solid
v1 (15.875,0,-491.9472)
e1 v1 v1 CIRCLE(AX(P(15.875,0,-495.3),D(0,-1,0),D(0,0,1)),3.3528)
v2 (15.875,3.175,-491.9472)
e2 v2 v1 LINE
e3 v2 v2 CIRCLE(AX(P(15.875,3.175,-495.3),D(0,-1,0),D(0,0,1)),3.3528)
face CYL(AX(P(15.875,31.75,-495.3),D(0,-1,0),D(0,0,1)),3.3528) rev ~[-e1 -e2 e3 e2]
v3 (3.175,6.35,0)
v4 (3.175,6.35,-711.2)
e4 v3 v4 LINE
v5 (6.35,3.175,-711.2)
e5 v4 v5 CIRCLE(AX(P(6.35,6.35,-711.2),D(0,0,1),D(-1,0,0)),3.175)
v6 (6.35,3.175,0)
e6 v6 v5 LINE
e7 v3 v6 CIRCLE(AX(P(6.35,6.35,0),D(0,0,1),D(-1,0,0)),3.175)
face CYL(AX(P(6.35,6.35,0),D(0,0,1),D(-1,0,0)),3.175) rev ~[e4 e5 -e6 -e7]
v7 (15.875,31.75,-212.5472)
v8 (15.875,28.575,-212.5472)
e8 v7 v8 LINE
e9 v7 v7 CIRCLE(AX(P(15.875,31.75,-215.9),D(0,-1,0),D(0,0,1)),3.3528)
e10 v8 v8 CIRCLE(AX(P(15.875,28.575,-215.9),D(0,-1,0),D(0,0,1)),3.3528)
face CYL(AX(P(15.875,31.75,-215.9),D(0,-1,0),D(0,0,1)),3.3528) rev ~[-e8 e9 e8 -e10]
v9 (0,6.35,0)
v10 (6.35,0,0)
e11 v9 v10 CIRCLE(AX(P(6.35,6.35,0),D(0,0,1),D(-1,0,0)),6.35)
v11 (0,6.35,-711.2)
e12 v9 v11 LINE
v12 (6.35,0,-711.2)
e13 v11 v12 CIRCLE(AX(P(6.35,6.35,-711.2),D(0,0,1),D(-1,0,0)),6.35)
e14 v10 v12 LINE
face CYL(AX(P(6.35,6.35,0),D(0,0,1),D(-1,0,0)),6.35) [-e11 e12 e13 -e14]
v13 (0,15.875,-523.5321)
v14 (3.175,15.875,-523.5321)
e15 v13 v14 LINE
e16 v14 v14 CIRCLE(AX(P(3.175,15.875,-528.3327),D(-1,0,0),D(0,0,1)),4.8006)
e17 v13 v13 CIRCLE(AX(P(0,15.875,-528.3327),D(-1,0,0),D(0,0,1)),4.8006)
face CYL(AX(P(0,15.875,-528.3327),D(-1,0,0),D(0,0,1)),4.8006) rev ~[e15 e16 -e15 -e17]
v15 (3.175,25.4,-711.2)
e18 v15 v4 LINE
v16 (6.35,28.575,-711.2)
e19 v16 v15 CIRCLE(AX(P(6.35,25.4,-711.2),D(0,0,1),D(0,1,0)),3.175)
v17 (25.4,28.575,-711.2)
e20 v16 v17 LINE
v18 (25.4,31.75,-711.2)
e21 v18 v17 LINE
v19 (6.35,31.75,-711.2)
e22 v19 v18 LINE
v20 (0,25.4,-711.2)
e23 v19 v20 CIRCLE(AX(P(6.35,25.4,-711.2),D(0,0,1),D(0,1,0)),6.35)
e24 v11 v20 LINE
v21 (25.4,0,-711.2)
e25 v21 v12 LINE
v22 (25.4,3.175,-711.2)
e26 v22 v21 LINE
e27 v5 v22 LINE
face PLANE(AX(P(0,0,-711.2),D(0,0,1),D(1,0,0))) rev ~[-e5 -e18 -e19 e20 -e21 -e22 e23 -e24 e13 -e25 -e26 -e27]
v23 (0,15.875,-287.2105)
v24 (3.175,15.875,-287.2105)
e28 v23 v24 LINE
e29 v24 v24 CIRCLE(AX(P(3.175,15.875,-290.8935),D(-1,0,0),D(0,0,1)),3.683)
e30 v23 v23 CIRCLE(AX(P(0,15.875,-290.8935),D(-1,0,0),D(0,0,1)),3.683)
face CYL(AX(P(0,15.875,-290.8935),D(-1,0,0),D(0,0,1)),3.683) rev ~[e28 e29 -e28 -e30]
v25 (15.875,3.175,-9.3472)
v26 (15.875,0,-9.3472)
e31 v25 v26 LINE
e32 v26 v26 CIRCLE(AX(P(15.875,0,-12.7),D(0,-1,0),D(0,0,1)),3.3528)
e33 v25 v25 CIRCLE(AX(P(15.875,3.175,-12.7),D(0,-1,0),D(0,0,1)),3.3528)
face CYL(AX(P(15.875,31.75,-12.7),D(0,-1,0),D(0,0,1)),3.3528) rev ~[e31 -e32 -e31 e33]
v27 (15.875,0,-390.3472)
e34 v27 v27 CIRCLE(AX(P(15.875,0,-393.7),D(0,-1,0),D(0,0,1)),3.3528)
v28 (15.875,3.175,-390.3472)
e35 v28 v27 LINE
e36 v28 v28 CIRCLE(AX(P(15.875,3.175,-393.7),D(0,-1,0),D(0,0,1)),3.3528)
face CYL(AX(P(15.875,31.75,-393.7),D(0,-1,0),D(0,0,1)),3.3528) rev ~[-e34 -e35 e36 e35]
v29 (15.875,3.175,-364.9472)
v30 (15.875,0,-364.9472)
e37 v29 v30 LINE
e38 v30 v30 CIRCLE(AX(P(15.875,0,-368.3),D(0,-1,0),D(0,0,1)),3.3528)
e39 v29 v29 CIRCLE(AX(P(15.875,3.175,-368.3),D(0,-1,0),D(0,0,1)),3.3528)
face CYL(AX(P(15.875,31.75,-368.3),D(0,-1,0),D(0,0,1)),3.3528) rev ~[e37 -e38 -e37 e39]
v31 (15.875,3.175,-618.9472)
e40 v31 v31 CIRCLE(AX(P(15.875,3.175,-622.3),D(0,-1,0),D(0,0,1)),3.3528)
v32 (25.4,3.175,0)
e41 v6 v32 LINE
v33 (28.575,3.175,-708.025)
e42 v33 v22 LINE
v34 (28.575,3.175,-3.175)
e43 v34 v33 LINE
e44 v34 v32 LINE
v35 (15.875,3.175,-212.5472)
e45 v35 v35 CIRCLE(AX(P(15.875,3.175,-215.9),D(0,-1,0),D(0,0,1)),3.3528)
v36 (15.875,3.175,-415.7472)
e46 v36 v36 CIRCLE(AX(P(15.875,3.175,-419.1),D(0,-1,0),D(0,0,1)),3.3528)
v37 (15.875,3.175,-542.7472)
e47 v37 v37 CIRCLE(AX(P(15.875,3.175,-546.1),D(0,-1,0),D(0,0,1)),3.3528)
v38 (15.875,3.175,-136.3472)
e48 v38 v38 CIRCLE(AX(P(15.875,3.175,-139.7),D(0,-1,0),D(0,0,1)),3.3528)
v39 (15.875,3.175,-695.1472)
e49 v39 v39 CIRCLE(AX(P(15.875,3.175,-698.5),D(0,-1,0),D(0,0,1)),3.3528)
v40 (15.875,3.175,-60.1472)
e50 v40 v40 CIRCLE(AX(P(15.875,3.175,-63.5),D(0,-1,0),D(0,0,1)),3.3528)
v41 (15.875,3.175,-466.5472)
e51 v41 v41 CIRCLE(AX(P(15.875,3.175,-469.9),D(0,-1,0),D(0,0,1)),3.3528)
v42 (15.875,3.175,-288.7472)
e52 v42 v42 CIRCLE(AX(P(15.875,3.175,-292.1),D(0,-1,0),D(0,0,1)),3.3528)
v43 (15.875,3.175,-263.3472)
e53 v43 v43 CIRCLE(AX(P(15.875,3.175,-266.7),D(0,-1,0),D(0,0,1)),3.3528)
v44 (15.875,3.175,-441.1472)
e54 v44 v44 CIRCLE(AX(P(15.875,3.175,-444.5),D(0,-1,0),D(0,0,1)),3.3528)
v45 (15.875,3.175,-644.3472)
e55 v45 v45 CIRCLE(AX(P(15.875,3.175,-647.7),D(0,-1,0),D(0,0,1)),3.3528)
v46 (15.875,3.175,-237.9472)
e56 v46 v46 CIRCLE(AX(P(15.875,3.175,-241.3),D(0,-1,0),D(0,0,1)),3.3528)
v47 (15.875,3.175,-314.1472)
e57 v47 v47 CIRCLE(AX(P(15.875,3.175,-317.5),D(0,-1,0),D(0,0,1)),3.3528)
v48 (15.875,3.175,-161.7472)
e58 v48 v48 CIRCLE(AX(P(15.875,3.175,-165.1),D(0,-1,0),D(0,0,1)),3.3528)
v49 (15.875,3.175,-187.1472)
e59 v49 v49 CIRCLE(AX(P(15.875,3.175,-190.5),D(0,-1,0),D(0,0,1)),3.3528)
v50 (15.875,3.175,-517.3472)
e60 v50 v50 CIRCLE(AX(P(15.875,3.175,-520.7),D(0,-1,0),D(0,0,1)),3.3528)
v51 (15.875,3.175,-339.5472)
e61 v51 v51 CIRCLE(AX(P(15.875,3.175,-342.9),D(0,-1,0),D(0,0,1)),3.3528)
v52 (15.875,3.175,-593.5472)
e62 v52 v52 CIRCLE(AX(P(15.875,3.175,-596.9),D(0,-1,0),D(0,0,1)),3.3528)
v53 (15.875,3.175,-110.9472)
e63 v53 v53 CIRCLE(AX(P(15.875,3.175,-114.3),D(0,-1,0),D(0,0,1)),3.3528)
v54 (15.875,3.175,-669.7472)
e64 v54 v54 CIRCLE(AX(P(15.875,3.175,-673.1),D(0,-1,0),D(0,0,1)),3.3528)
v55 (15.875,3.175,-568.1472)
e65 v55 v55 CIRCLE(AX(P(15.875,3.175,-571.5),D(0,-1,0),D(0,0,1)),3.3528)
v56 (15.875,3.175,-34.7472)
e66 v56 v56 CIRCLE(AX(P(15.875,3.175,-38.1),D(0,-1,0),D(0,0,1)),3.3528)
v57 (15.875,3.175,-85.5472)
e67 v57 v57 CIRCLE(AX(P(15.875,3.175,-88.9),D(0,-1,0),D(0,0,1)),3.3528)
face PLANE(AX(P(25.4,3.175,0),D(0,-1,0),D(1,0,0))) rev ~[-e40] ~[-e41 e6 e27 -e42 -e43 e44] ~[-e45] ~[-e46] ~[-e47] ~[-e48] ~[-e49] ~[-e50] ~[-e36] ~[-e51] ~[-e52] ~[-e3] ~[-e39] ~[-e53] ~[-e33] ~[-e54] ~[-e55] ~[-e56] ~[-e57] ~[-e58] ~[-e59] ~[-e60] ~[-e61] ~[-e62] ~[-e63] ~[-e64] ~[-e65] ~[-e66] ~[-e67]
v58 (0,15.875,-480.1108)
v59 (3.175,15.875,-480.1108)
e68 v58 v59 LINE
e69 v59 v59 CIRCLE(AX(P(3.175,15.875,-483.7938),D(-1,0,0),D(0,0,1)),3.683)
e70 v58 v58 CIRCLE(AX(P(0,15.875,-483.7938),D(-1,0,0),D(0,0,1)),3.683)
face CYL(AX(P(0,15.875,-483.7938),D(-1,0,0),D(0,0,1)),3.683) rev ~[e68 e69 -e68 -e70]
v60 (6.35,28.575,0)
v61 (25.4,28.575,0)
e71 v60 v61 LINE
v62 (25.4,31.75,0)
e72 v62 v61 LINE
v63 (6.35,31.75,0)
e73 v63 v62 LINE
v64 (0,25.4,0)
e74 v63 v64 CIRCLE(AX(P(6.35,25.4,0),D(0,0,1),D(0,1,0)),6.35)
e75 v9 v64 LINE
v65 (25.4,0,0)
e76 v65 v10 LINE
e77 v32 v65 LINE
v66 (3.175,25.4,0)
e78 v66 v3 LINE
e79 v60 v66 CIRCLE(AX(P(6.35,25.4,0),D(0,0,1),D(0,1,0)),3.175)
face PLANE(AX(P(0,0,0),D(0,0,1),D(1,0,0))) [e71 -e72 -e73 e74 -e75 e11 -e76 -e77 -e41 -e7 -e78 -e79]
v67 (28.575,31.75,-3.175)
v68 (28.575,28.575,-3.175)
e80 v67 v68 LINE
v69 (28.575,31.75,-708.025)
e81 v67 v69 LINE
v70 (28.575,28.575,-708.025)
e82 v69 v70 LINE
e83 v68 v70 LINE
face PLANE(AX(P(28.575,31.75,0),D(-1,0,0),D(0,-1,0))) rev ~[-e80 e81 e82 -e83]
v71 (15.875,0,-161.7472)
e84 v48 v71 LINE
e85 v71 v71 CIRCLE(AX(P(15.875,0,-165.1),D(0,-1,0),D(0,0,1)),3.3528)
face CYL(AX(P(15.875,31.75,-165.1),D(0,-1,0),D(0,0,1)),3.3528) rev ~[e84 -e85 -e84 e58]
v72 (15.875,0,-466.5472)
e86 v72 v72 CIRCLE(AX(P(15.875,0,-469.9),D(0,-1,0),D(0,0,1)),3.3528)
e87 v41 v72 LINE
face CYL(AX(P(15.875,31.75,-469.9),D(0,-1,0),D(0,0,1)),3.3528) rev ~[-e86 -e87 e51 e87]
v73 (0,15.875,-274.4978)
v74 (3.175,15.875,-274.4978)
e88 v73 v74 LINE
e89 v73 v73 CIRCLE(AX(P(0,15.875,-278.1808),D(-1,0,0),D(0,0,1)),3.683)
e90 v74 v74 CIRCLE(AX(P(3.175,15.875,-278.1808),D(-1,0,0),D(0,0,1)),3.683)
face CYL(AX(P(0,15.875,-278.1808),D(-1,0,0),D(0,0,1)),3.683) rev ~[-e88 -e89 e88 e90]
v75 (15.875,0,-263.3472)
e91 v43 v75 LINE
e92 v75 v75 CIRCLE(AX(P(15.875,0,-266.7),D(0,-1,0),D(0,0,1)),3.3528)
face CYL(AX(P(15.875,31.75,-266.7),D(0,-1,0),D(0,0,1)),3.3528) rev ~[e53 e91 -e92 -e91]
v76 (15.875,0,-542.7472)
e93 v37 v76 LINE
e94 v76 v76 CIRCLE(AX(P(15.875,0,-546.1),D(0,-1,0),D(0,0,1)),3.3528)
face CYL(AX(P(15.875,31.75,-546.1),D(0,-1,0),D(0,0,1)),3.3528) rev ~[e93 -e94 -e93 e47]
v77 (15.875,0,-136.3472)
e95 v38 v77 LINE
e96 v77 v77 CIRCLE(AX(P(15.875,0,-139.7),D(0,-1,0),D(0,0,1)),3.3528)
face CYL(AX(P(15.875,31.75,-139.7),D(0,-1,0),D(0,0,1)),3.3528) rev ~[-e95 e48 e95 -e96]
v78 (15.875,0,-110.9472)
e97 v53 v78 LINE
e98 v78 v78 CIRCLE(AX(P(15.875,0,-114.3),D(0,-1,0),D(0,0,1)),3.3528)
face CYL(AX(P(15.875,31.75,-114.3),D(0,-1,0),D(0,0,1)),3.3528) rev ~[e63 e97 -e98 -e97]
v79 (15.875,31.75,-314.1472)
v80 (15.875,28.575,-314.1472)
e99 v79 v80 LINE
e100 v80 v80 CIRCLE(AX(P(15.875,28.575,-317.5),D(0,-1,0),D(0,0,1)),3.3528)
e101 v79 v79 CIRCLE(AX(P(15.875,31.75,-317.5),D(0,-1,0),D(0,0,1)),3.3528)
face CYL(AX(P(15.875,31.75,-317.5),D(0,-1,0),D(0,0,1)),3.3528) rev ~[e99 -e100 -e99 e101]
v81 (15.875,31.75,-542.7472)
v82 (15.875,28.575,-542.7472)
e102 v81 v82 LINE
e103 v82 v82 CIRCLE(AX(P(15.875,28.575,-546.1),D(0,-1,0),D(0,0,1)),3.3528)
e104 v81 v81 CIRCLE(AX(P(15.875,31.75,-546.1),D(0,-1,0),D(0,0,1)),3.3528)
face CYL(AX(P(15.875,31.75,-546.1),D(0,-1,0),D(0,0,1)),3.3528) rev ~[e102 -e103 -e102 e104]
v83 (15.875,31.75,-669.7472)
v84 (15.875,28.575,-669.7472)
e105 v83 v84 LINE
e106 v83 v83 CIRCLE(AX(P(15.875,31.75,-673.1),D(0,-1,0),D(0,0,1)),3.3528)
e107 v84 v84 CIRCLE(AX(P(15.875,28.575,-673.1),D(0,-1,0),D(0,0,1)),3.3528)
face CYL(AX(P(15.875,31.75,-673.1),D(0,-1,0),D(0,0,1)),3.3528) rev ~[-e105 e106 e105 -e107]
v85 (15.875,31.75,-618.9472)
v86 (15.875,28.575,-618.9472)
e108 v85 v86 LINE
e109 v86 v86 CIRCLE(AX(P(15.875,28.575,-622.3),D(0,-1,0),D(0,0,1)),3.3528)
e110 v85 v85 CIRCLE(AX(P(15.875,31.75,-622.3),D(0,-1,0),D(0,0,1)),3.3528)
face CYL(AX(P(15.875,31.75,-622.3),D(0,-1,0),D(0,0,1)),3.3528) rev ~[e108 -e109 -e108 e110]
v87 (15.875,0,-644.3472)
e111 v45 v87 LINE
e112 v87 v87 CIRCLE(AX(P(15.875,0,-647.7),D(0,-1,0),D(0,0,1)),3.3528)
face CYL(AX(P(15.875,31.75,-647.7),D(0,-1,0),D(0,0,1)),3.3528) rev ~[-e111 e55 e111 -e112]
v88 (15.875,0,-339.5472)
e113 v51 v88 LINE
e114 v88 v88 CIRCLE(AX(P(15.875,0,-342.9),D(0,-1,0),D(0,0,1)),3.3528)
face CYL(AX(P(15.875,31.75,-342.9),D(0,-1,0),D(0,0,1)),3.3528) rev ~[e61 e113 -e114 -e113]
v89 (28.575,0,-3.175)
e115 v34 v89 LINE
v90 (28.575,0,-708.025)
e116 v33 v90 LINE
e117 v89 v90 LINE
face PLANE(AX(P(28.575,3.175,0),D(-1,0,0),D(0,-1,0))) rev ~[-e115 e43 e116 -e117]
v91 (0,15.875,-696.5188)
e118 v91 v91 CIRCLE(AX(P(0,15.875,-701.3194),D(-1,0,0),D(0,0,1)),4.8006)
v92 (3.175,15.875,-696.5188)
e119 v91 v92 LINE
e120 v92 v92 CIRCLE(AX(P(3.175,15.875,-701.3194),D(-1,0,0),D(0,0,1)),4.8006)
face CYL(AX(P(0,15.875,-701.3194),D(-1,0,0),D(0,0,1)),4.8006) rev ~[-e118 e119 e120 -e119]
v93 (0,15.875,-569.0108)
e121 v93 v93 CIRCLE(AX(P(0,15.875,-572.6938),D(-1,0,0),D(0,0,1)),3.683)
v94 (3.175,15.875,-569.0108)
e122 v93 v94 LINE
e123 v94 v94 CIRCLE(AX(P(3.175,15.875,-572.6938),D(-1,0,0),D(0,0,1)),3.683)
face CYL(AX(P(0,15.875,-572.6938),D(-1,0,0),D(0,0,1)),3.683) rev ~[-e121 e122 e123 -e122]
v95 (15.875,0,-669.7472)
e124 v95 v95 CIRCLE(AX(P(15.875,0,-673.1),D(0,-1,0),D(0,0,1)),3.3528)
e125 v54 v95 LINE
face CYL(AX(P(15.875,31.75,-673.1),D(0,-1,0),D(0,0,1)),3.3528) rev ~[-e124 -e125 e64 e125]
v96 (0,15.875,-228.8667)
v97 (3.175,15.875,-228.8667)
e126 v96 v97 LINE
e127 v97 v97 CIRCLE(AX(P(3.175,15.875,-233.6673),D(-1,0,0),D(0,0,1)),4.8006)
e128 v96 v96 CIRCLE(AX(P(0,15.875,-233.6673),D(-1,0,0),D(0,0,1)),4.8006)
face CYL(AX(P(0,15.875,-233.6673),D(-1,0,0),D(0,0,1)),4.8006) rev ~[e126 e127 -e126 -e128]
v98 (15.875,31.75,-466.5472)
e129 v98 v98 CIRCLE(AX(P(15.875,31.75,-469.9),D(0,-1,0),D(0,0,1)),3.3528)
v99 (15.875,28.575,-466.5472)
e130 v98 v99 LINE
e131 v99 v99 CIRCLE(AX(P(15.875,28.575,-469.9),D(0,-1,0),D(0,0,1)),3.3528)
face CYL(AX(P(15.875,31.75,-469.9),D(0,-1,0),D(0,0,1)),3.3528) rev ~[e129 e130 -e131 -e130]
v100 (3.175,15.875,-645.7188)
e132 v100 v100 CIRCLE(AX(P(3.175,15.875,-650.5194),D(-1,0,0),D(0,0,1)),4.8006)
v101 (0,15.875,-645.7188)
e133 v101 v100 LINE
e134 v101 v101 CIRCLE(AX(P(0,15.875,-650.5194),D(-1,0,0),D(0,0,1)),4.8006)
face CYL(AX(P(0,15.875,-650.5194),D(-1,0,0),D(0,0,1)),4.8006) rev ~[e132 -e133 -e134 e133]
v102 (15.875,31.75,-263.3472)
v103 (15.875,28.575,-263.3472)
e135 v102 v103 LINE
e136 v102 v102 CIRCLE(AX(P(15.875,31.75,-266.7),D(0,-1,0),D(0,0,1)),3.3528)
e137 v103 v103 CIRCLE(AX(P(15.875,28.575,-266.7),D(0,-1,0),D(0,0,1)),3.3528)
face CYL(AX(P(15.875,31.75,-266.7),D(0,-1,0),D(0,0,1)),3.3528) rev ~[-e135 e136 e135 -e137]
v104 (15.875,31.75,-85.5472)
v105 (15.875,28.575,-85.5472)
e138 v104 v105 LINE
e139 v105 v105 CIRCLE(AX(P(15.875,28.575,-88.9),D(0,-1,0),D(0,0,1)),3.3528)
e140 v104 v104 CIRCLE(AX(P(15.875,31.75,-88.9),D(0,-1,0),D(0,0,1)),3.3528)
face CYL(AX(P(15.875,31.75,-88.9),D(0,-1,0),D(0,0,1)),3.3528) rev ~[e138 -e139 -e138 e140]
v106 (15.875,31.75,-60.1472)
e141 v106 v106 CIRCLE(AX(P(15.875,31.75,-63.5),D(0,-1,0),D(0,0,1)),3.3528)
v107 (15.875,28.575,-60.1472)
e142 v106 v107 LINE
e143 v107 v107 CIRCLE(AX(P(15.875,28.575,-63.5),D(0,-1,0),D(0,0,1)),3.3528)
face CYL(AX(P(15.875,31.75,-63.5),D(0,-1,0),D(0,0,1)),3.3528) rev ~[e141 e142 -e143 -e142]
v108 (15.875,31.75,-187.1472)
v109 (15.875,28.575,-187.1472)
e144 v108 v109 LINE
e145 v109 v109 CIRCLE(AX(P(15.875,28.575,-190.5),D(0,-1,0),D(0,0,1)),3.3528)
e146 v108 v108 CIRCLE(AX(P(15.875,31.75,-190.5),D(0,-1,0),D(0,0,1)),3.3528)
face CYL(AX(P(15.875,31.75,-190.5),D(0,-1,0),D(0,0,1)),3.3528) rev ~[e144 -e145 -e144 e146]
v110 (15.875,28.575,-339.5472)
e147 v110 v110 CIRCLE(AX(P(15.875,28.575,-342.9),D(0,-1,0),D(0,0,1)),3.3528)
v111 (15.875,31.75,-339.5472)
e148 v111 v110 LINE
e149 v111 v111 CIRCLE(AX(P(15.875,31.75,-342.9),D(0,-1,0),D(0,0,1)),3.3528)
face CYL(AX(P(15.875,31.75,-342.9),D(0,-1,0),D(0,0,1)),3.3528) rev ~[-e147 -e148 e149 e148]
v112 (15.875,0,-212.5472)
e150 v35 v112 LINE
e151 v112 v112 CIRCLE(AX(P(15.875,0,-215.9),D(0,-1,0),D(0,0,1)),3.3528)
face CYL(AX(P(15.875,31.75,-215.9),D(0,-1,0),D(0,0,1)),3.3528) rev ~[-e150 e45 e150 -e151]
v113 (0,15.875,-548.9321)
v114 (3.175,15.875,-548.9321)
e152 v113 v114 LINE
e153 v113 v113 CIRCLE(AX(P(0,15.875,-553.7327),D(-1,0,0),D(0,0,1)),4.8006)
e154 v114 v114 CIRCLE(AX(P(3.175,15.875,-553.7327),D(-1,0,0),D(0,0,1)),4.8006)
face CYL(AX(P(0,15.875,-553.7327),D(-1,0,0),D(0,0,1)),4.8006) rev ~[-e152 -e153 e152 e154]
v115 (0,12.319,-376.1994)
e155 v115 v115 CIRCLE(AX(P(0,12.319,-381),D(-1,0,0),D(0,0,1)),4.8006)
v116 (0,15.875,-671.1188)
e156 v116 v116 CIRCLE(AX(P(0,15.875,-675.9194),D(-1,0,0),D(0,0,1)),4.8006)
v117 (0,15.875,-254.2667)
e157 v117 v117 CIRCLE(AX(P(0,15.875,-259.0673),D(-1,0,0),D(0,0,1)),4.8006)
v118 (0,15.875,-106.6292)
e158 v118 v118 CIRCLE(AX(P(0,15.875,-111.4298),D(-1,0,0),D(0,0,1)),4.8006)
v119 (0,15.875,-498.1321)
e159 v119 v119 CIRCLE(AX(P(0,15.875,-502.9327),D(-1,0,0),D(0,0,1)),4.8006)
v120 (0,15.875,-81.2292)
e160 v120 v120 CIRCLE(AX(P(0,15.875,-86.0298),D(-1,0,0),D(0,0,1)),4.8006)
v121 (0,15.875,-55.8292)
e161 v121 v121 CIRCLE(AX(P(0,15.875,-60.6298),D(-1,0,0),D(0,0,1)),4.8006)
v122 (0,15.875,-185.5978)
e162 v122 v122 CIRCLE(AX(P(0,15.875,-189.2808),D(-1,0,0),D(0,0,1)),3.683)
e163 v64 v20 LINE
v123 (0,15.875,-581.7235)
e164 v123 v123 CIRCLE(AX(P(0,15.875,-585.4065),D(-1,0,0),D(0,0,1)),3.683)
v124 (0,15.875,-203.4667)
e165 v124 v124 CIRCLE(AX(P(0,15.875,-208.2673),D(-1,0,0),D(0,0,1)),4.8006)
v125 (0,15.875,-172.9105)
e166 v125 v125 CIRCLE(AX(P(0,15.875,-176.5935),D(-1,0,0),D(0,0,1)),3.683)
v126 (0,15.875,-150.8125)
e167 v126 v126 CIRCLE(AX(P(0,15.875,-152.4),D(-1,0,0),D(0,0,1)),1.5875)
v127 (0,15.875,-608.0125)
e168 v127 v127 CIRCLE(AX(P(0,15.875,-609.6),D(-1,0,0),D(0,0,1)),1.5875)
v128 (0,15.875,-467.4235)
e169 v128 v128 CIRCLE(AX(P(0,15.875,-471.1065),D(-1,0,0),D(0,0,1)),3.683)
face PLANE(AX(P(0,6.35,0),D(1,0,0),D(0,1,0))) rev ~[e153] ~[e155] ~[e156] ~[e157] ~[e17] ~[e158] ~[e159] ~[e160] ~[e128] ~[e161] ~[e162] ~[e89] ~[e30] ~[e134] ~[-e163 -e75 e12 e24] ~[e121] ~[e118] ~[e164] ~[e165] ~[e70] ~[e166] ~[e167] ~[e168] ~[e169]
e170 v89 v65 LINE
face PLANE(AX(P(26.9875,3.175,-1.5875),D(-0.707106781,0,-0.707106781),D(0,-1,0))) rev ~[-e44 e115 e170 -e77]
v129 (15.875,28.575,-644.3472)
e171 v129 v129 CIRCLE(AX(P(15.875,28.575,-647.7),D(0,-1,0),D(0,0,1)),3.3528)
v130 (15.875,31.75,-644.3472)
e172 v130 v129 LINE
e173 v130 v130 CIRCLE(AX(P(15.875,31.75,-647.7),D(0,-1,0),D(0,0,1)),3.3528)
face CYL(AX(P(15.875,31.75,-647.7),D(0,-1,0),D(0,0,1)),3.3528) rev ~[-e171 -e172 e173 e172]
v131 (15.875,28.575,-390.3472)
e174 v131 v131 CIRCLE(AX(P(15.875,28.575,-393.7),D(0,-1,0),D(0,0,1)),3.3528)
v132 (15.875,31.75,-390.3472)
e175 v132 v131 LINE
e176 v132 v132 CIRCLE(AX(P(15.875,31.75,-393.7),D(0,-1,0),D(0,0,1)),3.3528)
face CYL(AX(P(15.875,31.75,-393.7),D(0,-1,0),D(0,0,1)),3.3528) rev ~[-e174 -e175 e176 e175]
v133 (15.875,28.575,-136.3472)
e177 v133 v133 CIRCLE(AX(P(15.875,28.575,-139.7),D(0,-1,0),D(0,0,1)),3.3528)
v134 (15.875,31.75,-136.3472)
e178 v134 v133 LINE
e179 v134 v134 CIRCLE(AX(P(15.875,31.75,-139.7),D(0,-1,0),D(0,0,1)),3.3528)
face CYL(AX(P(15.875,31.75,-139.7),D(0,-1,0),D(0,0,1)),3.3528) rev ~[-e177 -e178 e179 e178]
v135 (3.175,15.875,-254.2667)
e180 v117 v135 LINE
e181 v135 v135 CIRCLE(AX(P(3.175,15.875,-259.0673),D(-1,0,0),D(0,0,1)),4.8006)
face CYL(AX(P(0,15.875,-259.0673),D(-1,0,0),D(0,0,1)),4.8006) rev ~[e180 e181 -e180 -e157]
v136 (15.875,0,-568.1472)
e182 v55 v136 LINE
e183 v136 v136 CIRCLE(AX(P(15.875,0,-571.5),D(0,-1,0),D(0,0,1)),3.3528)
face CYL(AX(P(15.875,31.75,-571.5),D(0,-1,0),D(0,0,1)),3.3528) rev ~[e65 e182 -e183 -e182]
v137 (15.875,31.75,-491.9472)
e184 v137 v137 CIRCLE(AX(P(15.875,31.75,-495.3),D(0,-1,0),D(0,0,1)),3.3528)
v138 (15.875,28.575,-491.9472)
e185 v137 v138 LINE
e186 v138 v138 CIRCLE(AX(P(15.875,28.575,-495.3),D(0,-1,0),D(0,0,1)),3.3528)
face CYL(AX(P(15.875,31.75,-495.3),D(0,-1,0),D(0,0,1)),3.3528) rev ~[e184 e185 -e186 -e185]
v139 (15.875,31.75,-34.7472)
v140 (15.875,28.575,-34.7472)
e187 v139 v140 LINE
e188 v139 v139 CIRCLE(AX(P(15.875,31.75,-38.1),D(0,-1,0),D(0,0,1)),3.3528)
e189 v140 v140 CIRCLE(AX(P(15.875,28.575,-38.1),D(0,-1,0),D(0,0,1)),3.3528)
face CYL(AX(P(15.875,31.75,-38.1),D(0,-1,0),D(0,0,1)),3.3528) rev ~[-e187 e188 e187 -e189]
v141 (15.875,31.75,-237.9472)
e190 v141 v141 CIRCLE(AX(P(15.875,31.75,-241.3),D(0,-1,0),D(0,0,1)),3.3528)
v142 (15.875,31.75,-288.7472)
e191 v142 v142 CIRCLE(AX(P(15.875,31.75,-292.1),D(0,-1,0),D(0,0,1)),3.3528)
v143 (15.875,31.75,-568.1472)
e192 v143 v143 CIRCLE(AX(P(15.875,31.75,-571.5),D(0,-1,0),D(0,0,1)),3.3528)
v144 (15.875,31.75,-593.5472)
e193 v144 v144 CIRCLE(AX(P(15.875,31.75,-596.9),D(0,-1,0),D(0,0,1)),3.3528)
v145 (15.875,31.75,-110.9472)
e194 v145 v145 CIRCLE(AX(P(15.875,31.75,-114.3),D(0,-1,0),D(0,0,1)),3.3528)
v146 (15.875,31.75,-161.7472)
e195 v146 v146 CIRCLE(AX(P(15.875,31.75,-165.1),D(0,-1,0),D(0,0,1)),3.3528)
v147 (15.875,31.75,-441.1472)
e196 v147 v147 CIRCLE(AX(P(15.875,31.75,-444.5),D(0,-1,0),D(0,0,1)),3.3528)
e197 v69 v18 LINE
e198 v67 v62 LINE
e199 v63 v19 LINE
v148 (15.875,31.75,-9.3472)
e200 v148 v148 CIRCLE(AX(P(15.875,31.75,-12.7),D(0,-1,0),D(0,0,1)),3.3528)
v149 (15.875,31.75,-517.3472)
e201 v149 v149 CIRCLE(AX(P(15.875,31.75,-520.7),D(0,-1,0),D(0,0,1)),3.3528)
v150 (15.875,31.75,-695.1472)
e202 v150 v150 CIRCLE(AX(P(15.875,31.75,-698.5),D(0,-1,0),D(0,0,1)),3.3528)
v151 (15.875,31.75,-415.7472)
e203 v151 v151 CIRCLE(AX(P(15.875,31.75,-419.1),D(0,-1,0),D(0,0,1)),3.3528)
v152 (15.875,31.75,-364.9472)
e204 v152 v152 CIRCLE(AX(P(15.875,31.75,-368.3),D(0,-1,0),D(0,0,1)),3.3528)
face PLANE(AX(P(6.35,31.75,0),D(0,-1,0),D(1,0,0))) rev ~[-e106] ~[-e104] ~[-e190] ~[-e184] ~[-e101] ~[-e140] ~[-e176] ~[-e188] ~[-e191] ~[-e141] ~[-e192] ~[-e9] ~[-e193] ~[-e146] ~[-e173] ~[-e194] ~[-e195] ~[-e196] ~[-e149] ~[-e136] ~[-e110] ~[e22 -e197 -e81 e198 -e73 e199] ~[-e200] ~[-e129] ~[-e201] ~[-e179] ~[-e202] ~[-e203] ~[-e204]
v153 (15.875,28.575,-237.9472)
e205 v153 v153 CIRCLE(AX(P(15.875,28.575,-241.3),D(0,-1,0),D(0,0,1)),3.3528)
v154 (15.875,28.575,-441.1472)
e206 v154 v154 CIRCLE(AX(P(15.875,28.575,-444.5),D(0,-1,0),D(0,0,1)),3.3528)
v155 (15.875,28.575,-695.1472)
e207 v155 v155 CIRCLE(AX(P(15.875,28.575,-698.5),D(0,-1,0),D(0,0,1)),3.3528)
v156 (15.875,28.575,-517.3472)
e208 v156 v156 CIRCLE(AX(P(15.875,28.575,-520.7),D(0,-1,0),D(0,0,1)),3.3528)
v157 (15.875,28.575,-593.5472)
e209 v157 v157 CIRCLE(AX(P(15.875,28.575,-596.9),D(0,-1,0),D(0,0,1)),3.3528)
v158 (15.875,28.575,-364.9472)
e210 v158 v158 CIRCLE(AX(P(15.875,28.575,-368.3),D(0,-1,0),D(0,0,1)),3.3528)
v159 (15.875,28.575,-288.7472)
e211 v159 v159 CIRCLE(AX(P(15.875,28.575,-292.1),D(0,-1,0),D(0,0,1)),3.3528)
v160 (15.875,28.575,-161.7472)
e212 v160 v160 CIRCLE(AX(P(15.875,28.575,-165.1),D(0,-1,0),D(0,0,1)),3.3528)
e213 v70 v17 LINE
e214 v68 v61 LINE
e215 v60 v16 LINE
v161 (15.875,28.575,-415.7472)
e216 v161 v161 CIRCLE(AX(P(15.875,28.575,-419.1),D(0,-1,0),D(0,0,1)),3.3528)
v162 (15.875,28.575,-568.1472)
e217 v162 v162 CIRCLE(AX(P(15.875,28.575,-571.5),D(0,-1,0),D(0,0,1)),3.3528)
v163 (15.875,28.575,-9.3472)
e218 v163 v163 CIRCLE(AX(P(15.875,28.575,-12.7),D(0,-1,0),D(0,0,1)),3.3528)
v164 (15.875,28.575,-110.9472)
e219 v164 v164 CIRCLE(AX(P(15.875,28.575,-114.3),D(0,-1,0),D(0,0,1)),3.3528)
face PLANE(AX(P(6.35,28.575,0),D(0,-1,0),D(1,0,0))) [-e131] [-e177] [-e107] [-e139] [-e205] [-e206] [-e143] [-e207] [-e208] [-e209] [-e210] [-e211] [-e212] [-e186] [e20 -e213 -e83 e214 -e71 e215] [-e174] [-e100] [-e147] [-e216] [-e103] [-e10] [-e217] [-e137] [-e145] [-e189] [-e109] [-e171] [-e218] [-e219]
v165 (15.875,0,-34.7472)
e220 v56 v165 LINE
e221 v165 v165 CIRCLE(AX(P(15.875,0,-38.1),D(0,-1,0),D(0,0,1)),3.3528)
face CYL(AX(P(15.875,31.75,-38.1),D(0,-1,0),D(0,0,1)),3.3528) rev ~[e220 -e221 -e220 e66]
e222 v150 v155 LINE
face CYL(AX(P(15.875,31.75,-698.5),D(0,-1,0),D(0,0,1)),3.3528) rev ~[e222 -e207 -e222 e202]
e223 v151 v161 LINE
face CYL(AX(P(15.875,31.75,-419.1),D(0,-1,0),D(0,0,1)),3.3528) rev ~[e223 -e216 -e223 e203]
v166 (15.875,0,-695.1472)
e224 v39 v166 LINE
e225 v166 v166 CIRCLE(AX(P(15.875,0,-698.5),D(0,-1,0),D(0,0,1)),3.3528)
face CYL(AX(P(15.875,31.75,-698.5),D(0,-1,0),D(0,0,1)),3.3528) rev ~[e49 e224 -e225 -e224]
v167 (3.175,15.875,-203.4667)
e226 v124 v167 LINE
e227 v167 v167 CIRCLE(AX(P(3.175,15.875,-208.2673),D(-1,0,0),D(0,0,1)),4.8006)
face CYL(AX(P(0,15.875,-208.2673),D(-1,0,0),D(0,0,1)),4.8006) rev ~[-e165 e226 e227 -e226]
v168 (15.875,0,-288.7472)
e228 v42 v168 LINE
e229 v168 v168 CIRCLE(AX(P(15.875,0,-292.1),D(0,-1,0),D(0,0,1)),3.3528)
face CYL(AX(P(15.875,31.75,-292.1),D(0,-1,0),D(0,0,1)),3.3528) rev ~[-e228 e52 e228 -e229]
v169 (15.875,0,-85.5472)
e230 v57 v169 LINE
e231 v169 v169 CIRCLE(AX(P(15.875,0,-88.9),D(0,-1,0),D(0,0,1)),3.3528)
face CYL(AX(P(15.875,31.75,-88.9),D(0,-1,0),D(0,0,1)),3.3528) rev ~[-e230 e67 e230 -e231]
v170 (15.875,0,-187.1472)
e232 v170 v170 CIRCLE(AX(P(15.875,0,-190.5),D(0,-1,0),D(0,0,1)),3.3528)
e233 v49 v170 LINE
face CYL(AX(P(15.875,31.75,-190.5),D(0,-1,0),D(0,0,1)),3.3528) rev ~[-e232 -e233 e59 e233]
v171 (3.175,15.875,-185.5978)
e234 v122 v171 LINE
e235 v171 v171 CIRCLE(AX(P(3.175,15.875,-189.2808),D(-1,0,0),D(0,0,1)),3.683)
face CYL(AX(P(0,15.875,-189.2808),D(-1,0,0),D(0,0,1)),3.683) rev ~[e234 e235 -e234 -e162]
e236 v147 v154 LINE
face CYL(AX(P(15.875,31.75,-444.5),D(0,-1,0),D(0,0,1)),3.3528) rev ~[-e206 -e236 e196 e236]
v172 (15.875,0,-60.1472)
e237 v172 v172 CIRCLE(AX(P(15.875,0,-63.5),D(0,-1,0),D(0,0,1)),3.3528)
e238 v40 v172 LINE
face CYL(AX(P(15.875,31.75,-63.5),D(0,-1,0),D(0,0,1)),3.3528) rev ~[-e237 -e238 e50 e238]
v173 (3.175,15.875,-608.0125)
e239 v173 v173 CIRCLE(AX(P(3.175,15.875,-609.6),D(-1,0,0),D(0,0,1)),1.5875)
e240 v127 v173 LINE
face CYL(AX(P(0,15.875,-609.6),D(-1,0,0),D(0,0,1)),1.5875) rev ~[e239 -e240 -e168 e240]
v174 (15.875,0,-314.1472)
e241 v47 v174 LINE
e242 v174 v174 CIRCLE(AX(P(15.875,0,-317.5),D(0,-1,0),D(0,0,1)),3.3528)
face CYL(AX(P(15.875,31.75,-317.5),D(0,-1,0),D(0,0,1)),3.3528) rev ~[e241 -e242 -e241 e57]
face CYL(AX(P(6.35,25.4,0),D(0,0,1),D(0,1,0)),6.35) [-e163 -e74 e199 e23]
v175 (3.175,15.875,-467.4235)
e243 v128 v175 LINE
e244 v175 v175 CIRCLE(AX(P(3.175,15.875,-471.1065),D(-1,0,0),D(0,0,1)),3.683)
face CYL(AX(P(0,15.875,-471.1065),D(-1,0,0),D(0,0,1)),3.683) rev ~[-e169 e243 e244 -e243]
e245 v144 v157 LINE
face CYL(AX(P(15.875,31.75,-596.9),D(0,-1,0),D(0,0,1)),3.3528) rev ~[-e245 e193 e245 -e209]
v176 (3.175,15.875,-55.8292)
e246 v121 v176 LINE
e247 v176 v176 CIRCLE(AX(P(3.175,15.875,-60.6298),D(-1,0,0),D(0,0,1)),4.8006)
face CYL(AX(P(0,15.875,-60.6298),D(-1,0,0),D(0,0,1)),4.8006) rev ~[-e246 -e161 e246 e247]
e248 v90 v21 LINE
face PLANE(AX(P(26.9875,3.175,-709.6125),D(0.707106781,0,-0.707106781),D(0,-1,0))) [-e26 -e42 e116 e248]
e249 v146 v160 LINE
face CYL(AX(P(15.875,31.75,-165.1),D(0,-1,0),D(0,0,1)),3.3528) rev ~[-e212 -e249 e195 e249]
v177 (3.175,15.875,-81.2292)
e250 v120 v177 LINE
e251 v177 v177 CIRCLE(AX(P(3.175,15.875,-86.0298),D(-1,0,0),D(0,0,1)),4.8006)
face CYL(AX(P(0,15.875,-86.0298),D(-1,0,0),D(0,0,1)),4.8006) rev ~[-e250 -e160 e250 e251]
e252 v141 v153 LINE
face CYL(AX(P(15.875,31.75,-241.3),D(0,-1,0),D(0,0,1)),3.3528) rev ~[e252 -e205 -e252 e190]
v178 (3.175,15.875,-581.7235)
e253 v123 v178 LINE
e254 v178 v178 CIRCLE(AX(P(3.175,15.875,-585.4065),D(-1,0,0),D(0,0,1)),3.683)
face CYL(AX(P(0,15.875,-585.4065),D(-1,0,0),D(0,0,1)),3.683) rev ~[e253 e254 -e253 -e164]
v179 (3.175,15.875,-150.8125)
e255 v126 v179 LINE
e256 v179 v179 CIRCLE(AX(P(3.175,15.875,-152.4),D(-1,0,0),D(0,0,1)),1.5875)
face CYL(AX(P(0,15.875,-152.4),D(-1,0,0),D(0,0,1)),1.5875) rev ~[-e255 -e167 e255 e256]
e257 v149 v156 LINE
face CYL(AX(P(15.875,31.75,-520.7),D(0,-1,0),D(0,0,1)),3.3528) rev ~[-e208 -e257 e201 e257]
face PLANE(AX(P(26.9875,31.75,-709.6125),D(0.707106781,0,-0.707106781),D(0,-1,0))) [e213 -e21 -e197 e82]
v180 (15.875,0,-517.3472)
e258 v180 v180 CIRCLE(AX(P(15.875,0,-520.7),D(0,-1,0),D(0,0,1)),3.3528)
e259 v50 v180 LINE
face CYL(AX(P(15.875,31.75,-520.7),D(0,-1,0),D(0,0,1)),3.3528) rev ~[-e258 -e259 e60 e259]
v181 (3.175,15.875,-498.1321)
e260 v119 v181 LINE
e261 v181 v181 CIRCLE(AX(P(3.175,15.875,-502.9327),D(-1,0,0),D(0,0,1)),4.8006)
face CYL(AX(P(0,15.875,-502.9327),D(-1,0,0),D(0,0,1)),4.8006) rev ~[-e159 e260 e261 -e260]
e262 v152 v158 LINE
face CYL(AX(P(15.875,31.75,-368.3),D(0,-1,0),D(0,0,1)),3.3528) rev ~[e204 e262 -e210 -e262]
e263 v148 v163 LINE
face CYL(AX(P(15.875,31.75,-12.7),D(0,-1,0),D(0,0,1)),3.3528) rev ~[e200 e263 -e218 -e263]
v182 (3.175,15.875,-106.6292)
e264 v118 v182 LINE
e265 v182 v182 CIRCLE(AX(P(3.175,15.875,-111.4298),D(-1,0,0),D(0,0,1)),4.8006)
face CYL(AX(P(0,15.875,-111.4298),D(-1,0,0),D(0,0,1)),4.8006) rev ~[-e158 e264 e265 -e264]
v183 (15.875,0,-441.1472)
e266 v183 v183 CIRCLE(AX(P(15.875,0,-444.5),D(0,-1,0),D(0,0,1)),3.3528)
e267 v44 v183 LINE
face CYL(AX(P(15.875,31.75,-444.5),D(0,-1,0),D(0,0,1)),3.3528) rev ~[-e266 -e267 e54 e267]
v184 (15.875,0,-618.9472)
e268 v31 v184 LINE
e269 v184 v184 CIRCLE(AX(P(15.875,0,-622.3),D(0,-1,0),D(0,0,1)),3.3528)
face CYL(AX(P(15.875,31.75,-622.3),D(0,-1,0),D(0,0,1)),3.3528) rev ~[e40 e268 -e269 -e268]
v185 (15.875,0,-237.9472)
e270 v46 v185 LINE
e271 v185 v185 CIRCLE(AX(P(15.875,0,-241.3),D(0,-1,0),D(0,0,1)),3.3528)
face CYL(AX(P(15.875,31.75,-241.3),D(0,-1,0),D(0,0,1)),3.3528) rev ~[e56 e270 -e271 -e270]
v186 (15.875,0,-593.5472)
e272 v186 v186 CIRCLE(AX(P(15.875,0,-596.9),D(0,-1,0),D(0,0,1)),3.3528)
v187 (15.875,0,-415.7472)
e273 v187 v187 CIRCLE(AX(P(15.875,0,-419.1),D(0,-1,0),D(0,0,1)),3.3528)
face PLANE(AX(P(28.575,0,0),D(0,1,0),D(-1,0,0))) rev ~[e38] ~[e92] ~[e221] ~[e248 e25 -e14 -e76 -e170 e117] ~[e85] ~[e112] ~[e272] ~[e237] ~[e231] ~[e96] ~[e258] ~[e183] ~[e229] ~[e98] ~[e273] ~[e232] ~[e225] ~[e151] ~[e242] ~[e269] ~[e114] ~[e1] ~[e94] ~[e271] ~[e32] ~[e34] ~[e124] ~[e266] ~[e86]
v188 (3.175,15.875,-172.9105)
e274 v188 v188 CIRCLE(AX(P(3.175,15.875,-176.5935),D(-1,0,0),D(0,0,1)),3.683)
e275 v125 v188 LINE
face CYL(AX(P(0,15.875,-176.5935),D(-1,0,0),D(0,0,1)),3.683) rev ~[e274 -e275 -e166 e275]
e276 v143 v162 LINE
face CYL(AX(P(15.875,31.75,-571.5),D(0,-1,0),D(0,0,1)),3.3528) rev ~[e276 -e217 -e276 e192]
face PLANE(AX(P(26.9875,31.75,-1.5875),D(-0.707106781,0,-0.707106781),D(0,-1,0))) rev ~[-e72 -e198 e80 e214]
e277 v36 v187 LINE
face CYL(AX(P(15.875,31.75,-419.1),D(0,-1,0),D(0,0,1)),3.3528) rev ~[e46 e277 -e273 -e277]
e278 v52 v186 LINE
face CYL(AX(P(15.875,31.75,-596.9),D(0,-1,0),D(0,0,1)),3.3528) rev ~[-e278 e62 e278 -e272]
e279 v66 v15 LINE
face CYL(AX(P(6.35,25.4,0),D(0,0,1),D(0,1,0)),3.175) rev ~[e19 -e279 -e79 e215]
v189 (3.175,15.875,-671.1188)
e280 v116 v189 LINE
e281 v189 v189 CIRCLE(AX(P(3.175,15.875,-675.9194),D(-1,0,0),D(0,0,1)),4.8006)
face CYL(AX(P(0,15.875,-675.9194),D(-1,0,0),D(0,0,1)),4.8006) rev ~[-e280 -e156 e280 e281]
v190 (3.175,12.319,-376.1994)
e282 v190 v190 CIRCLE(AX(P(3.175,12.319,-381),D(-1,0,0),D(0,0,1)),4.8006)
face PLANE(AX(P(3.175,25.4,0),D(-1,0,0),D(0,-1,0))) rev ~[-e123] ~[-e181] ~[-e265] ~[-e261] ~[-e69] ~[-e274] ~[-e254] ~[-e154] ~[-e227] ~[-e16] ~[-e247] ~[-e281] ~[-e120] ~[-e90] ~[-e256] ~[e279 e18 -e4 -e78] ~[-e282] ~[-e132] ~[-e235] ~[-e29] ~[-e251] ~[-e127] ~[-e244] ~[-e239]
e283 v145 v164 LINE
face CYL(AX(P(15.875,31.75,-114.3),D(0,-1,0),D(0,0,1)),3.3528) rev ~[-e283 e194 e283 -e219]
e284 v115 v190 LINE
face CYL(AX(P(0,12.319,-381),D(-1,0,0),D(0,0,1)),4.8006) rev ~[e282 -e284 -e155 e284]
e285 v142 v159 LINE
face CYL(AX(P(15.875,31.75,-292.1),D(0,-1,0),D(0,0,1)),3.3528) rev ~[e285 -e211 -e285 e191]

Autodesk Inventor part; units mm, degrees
ref_plane "YZ Plane" through (0, 0, 0) normal (1, 0, 0) x (0, 1, 0)
ref_plane "XZ Plane" through (0, 0, 0) normal (0, 1, 0) x (-1, 0, 0)
ref_plane "XY Plane" through (0, 0, 0) normal (0, 0, 1) x (1, 0, 0)
sketch "Sketch1" plane through (0, 0, 0) normal (0, 0, 1) x (1, 0, 0)
  line L0 (6.35, 28.575) -> (25.4, 28.575)
  line L1 (6.35, 31.75) -> (25.4, 31.75)
  line L2 (25.4, 0) -> (6.35, 0)
  arc A0 (0, 6.35) -> (6.35, 0) centre (6.35, 6.35) ccw
  line L3 (0, 6.35) -> (0, 25.4)
  arc A1 (6.35, 31.75) -> (0, 25.4) centre (6.35, 25.4) ccw
  line L4 (6.35, 31.75) -> (25.4, 31.75)
  line L5 (25.4, 28.575) -> (6.35, 28.575)
  arc A2 (6.35, 28.575) -> (3.175, 25.4) centre (6.35, 25.4) ccw
  line L6 (3.175, 25.4) -> (3.175, 6.35)
  arc A3 (3.175, 6.35) -> (6.35, 3.175) centre (6.35, 6.35) ccw
  line L7 (6.35, 3.175) -> (25.4, 3.175)
  line L8 (28.575, 3.175) -> (28.575, 0)
  line L9 (25.4, 31.75) -> (28.575, 31.75)
  line L10 (28.575, 28.575) -> (25.4, 28.575)
  line L11 (28.575, 31.75) -> (28.575, 28.575)
  line L12 (28.575, 0) -> (25.4, 0)
  line L13 (28.575, 3.175) -> (28.575, 0)
  line L14 (25.4, 3.175) -> (28.575, 3.175)
  point P0 (0, 0)
extrude "Extrusion1" add sketch "Sketch1" against normal blind 711.2
chamfer "Chamfer1" distance 3.175 angle 45 4 edges at (28.575, 30.1625, 0) (28.575, 1.5875, 0) (28.575, 30.1625, -711.2) (28.575, 1.5875, -711.2)
sketch "Sketch2" plane through (6.35, 31.75, 0) normal (0, 1, 0) x (1, 0, 0)
  line L0 (19.05, 0) -> (0, 0) projected
  line L1 (22.225, 3.175) -> (22.225, 708.025) projected
  point P0 (-6.35, 0)
  point P1 (9.525, 12.7)
  dimension "d5" = 12.7
  dimension "d6" = 12.7
hole "Hole1" at (15.875, 31.75, -12.7) direction (0, -1, 0) diameter 6.7056 end through all
pattern_linear "Rectangular Pattern1" count 30 spacing 25.4 along (0, 0, -1) of "Hole1"
sketch "Sketch3" plane through (0, 6.35, 0) normal (-1, 0, 0) x (0, 0, 1)
  line L0 (0, 19.05) -> (-762, 19.05)
  line L1 (-762, 19.05) -> (-762, 0)
  line L2 (0, 0) -> (-762, 0)
  line L3 (0, 0) -> (0, 19.05)
  circle A0 centre (-701.3194, 9.525) radius 4.8006
  circle A1 centre (-111.4298, 9.525) radius 4.8006
  circle A2 centre (-189.2808, 9.525) radius 3.683
  circle A3 centre (-278.1808, 9.525) radius 3.683
  circle A4 centre (-483.7938, 9.525) radius 3.683
  circle A5 centre (-572.6938, 9.525) radius 3.683
  circle A6 centre (-471.1065, 9.525) radius 3.683
  circle A7 centre (-585.4065, 9.525) radius 3.683
  circle A8 centre (-290.8935, 9.525) radius 3.683
  circle A9 centre (-176.5935, 9.525) radius 3.683
  circle A10 centre (-553.7327, 9.525) radius 4.8006
  circle A11 centre (-528.3327, 9.525) radius 4.8006
  circle A12 centre (-502.9327, 9.525) radius 4.8006
  circle A13 centre (-259.0673, 9.525) radius 4.8006
  circle A14 centre (-233.6673, 9.525) radius 4.8006
  circle A15 centre (-208.2673, 9.525) radius 4.8006
  circle A16 centre (-609.6, 9.525) radius 1.5875
  circle A17 centre (-152.4, 9.525) radius 1.5875
  circle A18 centre (-381, 5.969) radius 4.8006
  circle A19 centre (-86.0298, 9.525) radius 4.8006
  circle A20 centre (-675.9194, 9.525) radius 4.8006
  circle A21 centre (-650.5194, 9.525) radius 4.8006
  circle A22 centre (-60.6298, 9.525) radius 4.8006
  point P0 (0, -6.35)
  point P1 (-762, -6.35)
extrude "Extrusion2" cut sketch "Sketch3" against normal up to next contours A0 | A1 | A2 | A3 | A4 | A5 | A6 | A7 | A8 | A9 | A10 | A11 | A12 | A13 | A14 | A15 | A16 | A17 | A18 | A19 | A20 | A21 | A22
properties part number "DBK_C-Channel_am-2222-28" material "Aluminum 6061"
